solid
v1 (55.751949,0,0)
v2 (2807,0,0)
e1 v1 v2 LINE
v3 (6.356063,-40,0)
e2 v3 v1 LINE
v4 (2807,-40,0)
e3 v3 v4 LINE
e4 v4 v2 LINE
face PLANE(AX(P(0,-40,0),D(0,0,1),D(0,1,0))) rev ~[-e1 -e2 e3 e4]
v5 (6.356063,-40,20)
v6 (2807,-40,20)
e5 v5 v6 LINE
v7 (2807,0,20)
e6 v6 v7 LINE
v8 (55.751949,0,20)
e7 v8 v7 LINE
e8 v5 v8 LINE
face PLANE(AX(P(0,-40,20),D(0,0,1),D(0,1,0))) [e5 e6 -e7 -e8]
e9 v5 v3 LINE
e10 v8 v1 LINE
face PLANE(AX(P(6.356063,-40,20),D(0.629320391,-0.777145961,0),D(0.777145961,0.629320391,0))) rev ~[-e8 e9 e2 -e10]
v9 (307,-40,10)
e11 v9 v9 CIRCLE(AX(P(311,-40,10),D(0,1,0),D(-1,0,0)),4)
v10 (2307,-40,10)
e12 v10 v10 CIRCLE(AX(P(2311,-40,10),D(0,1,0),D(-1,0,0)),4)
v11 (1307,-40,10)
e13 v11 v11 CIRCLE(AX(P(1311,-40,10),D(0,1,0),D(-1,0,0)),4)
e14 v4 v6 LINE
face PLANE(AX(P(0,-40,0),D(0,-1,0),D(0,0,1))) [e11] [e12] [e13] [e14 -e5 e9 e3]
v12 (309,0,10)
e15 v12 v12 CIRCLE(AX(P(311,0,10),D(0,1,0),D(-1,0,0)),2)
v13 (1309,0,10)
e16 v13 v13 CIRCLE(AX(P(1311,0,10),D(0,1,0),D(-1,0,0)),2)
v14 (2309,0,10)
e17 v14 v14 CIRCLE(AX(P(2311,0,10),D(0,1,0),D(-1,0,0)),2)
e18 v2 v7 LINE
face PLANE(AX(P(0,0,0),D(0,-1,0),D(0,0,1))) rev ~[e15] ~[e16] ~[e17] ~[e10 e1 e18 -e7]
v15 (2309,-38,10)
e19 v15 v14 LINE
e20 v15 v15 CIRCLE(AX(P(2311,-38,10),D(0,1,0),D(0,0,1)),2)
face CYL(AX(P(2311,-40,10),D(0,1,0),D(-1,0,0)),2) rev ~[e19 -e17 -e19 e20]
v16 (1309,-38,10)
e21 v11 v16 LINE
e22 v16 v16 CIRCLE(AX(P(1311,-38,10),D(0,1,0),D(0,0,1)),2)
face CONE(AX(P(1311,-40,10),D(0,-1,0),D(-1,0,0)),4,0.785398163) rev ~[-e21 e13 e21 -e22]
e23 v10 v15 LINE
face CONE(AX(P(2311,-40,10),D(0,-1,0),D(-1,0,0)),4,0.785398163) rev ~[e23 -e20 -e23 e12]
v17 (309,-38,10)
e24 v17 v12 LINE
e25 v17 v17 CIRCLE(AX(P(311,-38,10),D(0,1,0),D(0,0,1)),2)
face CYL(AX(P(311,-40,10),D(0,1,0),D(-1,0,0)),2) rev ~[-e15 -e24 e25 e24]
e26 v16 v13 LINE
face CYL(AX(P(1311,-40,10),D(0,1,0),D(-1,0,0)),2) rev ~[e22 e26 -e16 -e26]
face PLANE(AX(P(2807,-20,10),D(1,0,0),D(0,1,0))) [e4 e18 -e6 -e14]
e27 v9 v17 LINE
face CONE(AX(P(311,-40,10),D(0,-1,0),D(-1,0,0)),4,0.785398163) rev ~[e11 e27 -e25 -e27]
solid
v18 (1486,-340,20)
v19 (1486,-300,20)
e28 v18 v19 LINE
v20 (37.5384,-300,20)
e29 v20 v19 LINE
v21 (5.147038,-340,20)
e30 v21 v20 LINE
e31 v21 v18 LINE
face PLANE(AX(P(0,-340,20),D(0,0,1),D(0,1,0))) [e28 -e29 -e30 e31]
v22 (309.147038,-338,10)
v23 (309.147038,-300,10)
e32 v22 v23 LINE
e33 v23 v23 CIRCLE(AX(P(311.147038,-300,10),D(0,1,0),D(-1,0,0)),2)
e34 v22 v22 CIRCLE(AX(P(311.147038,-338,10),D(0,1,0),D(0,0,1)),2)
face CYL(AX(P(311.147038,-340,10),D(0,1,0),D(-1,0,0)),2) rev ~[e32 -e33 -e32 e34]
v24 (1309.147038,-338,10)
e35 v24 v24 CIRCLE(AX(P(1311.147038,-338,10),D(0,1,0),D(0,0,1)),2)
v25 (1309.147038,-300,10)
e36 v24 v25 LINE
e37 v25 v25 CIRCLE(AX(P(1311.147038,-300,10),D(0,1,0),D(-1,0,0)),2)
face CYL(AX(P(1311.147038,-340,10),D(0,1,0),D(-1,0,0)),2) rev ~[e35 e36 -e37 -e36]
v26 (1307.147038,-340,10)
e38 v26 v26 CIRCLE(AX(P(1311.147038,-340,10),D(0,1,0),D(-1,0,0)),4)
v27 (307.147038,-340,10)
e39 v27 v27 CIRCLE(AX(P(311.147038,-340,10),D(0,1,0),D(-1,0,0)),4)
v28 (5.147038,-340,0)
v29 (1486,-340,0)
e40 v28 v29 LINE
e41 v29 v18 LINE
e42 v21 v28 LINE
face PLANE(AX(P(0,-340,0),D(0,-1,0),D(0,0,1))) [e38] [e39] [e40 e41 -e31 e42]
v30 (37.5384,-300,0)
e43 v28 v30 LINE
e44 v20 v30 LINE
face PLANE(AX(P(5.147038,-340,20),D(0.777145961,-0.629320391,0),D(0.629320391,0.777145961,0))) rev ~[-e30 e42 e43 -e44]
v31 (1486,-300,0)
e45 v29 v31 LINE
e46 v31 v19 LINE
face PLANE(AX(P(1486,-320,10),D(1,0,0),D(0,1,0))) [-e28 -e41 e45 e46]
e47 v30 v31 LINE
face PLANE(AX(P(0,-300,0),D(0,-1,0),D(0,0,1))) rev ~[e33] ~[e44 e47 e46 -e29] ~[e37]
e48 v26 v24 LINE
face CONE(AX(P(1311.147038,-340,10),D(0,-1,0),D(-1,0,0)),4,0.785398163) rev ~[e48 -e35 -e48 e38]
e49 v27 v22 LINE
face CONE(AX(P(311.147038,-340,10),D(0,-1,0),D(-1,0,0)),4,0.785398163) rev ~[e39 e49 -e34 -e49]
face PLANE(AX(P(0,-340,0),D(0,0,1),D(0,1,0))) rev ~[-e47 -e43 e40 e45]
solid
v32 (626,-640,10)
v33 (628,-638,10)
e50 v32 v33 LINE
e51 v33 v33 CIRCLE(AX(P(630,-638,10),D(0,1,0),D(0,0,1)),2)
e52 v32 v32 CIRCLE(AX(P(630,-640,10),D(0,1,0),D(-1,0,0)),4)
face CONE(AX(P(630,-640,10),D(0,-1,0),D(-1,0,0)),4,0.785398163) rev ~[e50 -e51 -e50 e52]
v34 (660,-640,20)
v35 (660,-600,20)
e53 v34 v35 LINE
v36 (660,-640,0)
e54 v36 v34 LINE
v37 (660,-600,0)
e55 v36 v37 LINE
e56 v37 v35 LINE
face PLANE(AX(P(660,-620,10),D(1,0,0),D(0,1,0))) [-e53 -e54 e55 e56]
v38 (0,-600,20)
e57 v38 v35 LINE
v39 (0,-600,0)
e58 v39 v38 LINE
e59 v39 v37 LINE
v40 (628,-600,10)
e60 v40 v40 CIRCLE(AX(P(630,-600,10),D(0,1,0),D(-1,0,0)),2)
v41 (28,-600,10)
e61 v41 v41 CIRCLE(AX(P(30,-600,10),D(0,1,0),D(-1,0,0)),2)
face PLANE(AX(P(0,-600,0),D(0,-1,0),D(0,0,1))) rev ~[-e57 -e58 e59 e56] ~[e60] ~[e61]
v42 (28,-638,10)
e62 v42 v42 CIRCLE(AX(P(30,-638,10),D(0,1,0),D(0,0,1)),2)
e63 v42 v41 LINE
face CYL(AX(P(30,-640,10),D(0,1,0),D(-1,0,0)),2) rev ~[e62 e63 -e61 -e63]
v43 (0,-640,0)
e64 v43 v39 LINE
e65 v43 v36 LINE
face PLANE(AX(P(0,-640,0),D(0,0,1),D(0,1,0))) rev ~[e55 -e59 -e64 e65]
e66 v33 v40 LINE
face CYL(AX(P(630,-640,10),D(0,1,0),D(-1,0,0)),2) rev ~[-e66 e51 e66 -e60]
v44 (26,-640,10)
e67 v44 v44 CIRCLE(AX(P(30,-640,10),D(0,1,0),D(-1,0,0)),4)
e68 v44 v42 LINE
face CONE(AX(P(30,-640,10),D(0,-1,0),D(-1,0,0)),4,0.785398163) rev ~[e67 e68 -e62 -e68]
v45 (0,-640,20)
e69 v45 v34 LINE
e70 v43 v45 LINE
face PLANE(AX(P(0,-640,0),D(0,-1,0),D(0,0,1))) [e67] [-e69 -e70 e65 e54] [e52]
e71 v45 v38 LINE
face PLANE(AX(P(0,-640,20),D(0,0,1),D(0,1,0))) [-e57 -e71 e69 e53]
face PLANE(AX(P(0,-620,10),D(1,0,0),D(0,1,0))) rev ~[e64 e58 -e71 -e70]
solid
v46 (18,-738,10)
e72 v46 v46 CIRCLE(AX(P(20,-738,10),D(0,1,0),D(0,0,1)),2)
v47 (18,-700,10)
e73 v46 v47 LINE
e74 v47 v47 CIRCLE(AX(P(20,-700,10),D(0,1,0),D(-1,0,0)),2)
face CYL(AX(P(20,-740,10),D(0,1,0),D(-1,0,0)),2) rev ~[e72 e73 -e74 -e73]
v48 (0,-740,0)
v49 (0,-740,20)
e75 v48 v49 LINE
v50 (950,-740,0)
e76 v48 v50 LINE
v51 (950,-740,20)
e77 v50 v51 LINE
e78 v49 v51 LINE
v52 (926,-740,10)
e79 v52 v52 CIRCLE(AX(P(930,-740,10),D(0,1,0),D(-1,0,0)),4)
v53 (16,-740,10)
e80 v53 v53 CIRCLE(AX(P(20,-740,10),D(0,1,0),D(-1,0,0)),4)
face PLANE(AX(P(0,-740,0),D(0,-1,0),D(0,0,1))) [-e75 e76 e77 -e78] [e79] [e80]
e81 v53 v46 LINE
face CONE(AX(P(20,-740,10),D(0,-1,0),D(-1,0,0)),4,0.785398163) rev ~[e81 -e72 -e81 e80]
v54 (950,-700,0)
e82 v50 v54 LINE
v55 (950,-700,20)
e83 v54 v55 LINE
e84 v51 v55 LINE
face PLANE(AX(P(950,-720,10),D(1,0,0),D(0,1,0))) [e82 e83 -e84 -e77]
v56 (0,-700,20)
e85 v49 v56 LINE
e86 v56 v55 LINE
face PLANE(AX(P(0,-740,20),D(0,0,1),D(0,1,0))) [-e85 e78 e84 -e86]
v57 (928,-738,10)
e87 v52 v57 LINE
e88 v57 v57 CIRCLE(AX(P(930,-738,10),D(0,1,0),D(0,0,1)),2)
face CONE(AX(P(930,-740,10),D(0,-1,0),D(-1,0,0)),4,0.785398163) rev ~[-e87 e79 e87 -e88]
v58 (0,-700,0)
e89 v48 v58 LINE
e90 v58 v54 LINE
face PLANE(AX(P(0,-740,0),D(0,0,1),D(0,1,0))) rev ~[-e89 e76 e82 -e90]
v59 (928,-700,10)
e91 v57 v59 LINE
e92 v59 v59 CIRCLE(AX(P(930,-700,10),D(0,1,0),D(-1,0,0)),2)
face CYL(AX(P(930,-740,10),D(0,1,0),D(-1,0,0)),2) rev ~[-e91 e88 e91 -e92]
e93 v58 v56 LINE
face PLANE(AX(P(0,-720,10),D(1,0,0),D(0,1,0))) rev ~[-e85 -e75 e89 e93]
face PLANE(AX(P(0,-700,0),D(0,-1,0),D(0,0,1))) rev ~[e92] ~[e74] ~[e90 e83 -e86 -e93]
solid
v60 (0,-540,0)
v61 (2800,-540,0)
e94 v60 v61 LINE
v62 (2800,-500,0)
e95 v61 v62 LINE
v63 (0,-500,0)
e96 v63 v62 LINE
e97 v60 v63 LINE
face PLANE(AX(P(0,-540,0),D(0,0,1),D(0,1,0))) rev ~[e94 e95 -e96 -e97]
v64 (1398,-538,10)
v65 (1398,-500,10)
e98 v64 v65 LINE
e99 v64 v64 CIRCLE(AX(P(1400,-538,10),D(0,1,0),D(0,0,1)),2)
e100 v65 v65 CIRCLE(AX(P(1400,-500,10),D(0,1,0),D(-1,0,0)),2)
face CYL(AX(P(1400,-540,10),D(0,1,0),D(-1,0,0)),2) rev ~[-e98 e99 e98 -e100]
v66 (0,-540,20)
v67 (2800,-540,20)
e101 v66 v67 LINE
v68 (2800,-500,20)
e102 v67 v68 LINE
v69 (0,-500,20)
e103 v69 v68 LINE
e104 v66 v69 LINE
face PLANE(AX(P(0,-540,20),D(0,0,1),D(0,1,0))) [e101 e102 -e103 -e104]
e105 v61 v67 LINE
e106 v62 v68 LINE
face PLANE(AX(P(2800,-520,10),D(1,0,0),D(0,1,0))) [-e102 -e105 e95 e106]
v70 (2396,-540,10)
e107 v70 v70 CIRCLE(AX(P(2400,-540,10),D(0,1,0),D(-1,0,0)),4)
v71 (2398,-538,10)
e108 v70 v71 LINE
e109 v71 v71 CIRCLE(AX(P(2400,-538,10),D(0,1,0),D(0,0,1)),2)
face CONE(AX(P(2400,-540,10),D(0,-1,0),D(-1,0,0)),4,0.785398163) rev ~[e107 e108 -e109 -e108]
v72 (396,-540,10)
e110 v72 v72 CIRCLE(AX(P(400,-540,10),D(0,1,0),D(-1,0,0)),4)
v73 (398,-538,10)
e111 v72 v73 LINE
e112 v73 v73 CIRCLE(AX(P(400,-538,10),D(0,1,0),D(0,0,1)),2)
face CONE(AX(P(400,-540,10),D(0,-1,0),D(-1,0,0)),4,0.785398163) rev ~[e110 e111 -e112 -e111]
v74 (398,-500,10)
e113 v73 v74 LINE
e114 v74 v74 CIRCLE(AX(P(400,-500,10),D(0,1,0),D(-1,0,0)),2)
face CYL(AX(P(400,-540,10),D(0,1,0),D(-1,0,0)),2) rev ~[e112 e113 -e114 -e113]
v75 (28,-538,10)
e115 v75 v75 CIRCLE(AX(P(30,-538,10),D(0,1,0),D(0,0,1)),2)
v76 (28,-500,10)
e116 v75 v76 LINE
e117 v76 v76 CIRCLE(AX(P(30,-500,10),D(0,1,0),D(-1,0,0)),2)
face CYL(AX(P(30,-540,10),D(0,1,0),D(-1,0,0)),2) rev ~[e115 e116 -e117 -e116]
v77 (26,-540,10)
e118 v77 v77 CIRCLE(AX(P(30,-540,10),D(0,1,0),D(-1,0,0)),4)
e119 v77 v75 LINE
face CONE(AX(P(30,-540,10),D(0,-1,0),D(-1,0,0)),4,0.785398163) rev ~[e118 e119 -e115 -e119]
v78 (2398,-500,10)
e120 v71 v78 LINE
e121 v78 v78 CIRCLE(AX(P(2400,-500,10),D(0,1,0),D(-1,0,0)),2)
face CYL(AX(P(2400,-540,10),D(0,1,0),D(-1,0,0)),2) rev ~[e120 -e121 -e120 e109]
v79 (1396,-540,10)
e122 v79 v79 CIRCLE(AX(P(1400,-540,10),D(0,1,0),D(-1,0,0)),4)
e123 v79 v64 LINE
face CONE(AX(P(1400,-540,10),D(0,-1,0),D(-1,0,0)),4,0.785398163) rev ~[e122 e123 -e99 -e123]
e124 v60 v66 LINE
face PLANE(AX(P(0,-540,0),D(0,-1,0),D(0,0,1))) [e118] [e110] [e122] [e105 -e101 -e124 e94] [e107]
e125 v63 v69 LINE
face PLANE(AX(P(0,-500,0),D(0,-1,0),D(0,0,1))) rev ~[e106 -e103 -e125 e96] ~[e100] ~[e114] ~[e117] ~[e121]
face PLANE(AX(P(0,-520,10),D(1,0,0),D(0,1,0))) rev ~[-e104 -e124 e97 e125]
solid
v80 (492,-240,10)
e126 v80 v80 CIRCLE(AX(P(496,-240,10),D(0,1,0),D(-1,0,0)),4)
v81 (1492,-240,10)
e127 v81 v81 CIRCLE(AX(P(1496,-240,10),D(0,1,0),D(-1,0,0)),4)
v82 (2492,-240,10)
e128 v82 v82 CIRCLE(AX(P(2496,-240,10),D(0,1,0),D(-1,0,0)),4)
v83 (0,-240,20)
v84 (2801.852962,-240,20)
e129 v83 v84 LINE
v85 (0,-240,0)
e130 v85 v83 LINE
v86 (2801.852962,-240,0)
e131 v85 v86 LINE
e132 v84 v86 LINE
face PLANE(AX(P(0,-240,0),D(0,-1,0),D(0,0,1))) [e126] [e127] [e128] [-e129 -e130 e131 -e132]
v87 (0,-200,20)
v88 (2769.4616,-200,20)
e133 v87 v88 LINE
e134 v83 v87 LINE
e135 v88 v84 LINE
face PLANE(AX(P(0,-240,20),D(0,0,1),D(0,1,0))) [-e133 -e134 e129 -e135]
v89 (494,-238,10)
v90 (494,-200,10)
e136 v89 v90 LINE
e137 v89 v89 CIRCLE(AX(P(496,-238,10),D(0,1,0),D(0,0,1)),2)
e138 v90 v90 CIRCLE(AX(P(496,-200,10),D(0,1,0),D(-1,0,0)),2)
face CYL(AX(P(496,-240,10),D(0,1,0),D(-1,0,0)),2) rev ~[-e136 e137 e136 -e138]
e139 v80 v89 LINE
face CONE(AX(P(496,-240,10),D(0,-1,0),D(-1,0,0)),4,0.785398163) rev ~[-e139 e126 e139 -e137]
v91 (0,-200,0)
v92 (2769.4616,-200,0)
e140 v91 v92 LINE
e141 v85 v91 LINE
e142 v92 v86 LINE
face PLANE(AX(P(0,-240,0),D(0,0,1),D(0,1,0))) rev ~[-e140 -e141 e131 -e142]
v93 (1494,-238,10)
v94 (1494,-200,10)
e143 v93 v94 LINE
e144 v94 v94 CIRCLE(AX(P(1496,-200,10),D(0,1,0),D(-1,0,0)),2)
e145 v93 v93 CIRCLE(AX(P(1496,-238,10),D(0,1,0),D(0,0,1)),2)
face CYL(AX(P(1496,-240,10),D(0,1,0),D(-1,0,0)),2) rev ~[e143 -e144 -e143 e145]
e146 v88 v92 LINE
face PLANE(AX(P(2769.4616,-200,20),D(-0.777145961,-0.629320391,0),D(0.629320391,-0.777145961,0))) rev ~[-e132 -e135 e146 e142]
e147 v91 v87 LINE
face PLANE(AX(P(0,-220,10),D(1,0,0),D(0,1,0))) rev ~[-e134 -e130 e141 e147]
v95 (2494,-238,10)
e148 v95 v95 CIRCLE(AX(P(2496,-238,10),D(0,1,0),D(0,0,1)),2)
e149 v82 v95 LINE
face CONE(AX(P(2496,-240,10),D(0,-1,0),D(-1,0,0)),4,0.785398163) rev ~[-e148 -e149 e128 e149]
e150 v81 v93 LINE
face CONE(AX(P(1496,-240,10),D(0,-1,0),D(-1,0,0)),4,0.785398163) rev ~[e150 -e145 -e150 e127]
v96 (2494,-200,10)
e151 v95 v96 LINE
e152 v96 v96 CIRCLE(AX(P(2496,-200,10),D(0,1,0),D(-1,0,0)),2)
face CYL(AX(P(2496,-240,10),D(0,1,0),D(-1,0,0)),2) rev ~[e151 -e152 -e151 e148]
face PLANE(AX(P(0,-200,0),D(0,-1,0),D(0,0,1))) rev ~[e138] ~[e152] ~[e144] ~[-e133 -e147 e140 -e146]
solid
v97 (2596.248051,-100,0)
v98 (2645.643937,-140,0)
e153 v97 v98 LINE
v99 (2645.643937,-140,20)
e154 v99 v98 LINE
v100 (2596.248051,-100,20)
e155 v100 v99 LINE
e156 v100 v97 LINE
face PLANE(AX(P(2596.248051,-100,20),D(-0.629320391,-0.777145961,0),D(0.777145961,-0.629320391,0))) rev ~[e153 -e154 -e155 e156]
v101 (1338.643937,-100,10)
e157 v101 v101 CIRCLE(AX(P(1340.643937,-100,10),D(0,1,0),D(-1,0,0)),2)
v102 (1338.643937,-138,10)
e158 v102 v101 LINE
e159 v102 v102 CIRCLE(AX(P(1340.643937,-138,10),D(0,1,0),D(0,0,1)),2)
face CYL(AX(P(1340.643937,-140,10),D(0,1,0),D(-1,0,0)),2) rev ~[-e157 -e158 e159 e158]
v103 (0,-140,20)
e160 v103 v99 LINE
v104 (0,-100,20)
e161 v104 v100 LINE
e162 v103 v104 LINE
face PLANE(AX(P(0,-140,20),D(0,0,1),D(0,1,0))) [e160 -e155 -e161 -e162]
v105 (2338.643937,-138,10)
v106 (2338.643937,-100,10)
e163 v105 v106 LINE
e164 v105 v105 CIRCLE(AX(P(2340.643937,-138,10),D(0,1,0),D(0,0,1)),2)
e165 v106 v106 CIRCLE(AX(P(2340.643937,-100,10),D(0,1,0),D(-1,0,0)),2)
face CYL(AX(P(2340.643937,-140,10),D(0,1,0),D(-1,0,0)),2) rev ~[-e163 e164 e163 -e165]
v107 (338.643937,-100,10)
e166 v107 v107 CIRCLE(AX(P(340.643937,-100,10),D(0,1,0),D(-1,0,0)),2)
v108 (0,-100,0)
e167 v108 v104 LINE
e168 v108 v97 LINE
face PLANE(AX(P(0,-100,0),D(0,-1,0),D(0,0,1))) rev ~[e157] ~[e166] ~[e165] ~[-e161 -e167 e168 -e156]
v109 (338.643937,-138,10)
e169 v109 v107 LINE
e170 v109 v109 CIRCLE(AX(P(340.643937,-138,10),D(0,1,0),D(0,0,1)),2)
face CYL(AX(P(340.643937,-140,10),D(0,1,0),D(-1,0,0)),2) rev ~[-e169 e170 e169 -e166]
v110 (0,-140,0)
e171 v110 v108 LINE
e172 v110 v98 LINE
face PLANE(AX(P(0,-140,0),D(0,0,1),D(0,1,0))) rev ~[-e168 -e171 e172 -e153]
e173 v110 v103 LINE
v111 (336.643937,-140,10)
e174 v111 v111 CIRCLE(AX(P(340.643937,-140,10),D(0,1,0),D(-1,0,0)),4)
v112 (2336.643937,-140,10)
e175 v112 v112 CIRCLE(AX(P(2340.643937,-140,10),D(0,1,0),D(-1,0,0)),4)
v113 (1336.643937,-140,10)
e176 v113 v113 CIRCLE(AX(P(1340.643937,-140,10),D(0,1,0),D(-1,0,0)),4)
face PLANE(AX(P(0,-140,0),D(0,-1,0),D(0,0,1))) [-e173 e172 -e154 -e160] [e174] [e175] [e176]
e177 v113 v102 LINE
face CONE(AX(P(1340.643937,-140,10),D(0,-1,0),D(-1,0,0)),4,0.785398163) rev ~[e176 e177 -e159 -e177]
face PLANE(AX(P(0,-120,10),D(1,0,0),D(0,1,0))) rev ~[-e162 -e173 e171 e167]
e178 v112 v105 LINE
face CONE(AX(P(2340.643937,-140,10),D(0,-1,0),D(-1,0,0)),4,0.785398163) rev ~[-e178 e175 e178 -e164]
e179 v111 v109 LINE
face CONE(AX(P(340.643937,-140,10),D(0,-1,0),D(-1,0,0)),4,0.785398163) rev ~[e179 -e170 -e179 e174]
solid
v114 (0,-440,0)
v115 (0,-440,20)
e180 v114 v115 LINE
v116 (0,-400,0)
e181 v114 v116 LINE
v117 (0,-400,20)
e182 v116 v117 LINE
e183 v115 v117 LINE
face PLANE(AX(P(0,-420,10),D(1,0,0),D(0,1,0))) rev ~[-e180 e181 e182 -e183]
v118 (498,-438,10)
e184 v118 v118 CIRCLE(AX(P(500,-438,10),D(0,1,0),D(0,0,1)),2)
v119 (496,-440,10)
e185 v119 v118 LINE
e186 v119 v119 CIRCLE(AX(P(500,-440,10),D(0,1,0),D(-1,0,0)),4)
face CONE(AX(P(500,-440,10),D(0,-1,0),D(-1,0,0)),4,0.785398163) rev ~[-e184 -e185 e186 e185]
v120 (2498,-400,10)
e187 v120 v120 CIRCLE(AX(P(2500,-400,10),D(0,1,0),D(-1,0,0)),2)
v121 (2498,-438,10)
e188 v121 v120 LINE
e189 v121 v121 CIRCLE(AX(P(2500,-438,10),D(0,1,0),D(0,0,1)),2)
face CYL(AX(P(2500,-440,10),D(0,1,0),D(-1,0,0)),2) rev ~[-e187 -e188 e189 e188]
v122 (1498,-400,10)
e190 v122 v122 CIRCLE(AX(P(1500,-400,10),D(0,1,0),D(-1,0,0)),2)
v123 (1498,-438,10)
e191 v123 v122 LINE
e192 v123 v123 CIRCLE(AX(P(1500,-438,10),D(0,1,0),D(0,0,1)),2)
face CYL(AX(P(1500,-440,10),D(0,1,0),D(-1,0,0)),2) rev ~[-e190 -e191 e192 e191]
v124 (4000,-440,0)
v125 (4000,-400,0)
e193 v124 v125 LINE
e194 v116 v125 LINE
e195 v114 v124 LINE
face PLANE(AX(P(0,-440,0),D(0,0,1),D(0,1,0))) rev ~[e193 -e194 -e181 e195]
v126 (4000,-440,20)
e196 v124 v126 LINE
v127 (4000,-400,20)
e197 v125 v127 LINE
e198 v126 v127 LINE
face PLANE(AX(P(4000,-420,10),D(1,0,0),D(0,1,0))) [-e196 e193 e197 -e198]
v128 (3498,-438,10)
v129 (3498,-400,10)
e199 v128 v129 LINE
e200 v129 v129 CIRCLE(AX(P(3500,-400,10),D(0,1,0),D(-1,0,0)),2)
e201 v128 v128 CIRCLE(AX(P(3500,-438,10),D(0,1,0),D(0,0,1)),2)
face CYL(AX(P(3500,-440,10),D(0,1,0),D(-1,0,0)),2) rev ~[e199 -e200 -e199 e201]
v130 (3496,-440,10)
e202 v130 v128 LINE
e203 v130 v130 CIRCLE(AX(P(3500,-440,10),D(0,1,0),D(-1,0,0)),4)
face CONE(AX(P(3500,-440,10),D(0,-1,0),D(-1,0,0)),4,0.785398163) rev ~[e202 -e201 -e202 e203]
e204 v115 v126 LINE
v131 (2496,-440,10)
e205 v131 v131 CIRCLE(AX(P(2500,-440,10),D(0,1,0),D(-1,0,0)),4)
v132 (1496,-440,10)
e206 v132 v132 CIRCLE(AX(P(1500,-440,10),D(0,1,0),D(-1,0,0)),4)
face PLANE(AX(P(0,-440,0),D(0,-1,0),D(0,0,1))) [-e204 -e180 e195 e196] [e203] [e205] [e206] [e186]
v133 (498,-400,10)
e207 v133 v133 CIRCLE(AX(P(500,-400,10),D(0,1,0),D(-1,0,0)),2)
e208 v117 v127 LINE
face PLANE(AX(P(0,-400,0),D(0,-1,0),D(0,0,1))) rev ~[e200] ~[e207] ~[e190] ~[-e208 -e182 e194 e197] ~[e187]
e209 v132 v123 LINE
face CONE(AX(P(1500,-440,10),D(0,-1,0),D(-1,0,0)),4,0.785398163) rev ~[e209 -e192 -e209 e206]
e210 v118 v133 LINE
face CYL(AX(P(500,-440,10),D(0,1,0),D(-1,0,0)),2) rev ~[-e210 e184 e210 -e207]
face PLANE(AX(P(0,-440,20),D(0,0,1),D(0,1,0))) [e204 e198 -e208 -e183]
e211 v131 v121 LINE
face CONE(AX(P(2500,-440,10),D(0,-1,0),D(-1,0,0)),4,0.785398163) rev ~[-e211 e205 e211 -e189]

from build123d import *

# Parameters (mm, degrees)
F0_W            = 40
F0_H            = 20
F1_DEPTH        = 2807
F3_DEPTH        = 20.001
F5_D            = 4
F5_CSINK_D      = 8
F5_CSINK_ANGLE  = 90
F6_DEPTH        = 2652
F8_DEPTH        = 20.001
F10_D           = 4
F10_CSINK_D     = 8
F10_CSINK_ANGLE = 90
F11_DEPTH       = 2807
F13_DEPTH       = 25
F15_D           = 4
F15_CSINK_D     = 8
F15_CSINK_ANGLE = 90
F16_DEPTH       = 1486
F18_DEPTH       = 20.001
F20_D           = 4
F20_CSINK_D     = 8
F20_CSINK_ANGLE = 90
F21_DEPTH       = 4000
F23_D           = 4
F23_CSINK_D     = 8
F23_CSINK_ANGLE = 90
F24_DEPTH       = 2800
F26_D           = 4
F26_CSINK_D     = 8
F26_CSINK_ANGLE = 90
F27_DEPTH       = 660
F29_D           = 4
F29_CSINK_D     = 8
F29_CSINK_ANGLE = 90
F30_DEPTH       = 950
F32_D           = 4
F32_CSINK_D     = 8
F32_CSINK_ANGLE = 90


with BuildPart() as f1:
    # F0 (on Right) → F1 (new body)
    with BuildSketch(Plane.YZ):
        with Locations((-20, 10)):
            Rectangle(F0_W, F0_H)
    extrude(amount=F1_DEPTH)

    # F2 (on face) → F3 (cut, through all)
    with BuildSketch(Plane.XY.offset(20)):
        Polygon((49.3958862614, 0), (0, 0), (0, -40), (6.3560629163, -40), (55.7519491777, 0), align=None)
    extrude(amount=-F3_DEPTH, mode=Mode.SUBTRACT)

    # F5 (through all)
    with Locations(Plane.XZ.offset(40)):
        with Locations((2311, 10), (1311, 10), (311, 10)):
            CounterSinkHole(F5_D / 2, F5_CSINK_D / 2, counter_sink_angle=F5_CSINK_ANGLE)


with BuildPart() as f6:
    # F0 (on Right) → F6 (new body)
    with BuildSketch(Plane.YZ):
        with Locations((-120, 10)):
            Rectangle(F0_W, F0_H)
    extrude(amount=F6_DEPTH)

    # F7 (on face) → F8 (cut, through all)
    with BuildSketch(Plane.XY.offset(20)):
        Polygon((2645.6439370837, -140), (2652, -140), (2652, -100), (2602.6041137386, -100), (2596.2480508223, -100), align=None)
    extrude(amount=-F8_DEPTH, mode=Mode.SUBTRACT)

    # F10 (through all)
    with Locations(Plane.XZ.offset(140)):
        with Locations((2340.6439370837, 10), (1340.6439370837, 10), (340.6439370837, 10)):
            CounterSinkHole(F10_D / 2, F10_CSINK_D / 2, counter_sink_angle=F10_CSINK_ANGLE)


with BuildPart() as f11:
    # F0 (on Right) → F11 (new body)
    with BuildSketch(Plane.YZ):
        with Locations((-220, 10)):
            Rectangle(F0_W, F0_H)
    extrude(amount=F11_DEPTH)

    # F12 (on face) → F13 (cut)
    with BuildSketch(Plane.XY.offset(20)):
        Polygon((2801.8529617364, -240), (2807, -240), (2807, -200), (2774.6086386722, -200), (2769.4616004086, -200), align=None)
    extrude(amount=-F13_DEPTH, mode=Mode.SUBTRACT)

    # F15 (through all)
    with Locations(Plane.XZ.offset(240)):
        with Locations((496, 10), (1496, 10), (2496, 10)):
            CounterSinkHole(F15_D / 2, F15_CSINK_D / 2, counter_sink_angle=F15_CSINK_ANGLE)


with BuildPart() as f16:
    # F0 (on Right) → F16 (new body)
    with BuildSketch(Plane.YZ):
        with Locations((-320, 10)):
            Rectangle(F0_W, F0_H)
    extrude(amount=F16_DEPTH)

    # F17 (on face) → F18 (cut, through all)
    with BuildSketch(Plane.XY.offset(20)):
        Polygon((0, -300), (0, -340), (5.1470382636, -340), (37.5383995914, -300), (32.3913613278, -300), align=None)
    extrude(amount=-F18_DEPTH, mode=Mode.SUBTRACT)

    # F20 (through all)
    with Locations(Plane.XZ.offset(340)):
        with Locations((311.1470382636, 10), (1311.1470382636, 10)):
            CounterSinkHole(F20_D / 2, F20_CSINK_D / 2, counter_sink_angle=F20_CSINK_ANGLE)


with BuildPart() as f21:
    # F0 (on Right) → F21 (new body)
    with BuildSketch(Plane.YZ):
        with Locations((-420, 10)):
            Rectangle(F0_W, F0_H)
    extrude(amount=F21_DEPTH)

    # F23 (through all)
    with Locations(Plane.XZ.offset(440)):
        with Locations((500, 10), (1500, 10), (2500, 10), (3500, 10)):
            CounterSinkHole(F23_D / 2, F23_CSINK_D / 2, counter_sink_angle=F23_CSINK_ANGLE)


with BuildPart() as f24:
    # F0 (on Right) → F24 (new body)
    with BuildSketch(Plane.YZ):
        with Locations((-520, 10)):
            Rectangle(F0_W, F0_H)
    extrude(amount=F24_DEPTH)

    # F26 (through all)
    with Locations(Plane.XZ.offset(540)):
        with Locations((30, 10), (400, 10), (1400, 10), (2400, 10)):
            CounterSinkHole(F26_D / 2, F26_CSINK_D / 2, counter_sink_angle=F26_CSINK_ANGLE)


with BuildPart() as f27:
    # F0 (on Right) → F27 (new body)
    with BuildSketch(Plane.YZ):
        with Locations((-620, 10)):
            Rectangle(F0_W, F0_H)
    extrude(amount=F27_DEPTH)

    # F29 (through all)
    with Locations(Plane.XZ.offset(640)):
        with Locations((630, 10), (30, 10)):
            CounterSinkHole(F29_D / 2, F29_CSINK_D / 2, counter_sink_angle=F29_CSINK_ANGLE)


with BuildPart() as f30:
    # F0 (on Right) → F30 (new body)
    with BuildSketch(Plane.YZ):
        with Locations((-720, 10)):
            Rectangle(F0_W, F0_H)
    extrude(amount=F30_DEPTH)

    # F32 (through all)
    with Locations(Plane.XZ.offset(740)):
        with Locations((20, 10), (930, 10)):
            CounterSinkHole(F32_D / 2, F32_CSINK_D / 2, counter_sink_angle=F32_CSINK_ANGLE)


solid = Compound([f1.part, f6.part, f11.part, f16.part, f21.part, f24.part, f27.part, f30.part])
